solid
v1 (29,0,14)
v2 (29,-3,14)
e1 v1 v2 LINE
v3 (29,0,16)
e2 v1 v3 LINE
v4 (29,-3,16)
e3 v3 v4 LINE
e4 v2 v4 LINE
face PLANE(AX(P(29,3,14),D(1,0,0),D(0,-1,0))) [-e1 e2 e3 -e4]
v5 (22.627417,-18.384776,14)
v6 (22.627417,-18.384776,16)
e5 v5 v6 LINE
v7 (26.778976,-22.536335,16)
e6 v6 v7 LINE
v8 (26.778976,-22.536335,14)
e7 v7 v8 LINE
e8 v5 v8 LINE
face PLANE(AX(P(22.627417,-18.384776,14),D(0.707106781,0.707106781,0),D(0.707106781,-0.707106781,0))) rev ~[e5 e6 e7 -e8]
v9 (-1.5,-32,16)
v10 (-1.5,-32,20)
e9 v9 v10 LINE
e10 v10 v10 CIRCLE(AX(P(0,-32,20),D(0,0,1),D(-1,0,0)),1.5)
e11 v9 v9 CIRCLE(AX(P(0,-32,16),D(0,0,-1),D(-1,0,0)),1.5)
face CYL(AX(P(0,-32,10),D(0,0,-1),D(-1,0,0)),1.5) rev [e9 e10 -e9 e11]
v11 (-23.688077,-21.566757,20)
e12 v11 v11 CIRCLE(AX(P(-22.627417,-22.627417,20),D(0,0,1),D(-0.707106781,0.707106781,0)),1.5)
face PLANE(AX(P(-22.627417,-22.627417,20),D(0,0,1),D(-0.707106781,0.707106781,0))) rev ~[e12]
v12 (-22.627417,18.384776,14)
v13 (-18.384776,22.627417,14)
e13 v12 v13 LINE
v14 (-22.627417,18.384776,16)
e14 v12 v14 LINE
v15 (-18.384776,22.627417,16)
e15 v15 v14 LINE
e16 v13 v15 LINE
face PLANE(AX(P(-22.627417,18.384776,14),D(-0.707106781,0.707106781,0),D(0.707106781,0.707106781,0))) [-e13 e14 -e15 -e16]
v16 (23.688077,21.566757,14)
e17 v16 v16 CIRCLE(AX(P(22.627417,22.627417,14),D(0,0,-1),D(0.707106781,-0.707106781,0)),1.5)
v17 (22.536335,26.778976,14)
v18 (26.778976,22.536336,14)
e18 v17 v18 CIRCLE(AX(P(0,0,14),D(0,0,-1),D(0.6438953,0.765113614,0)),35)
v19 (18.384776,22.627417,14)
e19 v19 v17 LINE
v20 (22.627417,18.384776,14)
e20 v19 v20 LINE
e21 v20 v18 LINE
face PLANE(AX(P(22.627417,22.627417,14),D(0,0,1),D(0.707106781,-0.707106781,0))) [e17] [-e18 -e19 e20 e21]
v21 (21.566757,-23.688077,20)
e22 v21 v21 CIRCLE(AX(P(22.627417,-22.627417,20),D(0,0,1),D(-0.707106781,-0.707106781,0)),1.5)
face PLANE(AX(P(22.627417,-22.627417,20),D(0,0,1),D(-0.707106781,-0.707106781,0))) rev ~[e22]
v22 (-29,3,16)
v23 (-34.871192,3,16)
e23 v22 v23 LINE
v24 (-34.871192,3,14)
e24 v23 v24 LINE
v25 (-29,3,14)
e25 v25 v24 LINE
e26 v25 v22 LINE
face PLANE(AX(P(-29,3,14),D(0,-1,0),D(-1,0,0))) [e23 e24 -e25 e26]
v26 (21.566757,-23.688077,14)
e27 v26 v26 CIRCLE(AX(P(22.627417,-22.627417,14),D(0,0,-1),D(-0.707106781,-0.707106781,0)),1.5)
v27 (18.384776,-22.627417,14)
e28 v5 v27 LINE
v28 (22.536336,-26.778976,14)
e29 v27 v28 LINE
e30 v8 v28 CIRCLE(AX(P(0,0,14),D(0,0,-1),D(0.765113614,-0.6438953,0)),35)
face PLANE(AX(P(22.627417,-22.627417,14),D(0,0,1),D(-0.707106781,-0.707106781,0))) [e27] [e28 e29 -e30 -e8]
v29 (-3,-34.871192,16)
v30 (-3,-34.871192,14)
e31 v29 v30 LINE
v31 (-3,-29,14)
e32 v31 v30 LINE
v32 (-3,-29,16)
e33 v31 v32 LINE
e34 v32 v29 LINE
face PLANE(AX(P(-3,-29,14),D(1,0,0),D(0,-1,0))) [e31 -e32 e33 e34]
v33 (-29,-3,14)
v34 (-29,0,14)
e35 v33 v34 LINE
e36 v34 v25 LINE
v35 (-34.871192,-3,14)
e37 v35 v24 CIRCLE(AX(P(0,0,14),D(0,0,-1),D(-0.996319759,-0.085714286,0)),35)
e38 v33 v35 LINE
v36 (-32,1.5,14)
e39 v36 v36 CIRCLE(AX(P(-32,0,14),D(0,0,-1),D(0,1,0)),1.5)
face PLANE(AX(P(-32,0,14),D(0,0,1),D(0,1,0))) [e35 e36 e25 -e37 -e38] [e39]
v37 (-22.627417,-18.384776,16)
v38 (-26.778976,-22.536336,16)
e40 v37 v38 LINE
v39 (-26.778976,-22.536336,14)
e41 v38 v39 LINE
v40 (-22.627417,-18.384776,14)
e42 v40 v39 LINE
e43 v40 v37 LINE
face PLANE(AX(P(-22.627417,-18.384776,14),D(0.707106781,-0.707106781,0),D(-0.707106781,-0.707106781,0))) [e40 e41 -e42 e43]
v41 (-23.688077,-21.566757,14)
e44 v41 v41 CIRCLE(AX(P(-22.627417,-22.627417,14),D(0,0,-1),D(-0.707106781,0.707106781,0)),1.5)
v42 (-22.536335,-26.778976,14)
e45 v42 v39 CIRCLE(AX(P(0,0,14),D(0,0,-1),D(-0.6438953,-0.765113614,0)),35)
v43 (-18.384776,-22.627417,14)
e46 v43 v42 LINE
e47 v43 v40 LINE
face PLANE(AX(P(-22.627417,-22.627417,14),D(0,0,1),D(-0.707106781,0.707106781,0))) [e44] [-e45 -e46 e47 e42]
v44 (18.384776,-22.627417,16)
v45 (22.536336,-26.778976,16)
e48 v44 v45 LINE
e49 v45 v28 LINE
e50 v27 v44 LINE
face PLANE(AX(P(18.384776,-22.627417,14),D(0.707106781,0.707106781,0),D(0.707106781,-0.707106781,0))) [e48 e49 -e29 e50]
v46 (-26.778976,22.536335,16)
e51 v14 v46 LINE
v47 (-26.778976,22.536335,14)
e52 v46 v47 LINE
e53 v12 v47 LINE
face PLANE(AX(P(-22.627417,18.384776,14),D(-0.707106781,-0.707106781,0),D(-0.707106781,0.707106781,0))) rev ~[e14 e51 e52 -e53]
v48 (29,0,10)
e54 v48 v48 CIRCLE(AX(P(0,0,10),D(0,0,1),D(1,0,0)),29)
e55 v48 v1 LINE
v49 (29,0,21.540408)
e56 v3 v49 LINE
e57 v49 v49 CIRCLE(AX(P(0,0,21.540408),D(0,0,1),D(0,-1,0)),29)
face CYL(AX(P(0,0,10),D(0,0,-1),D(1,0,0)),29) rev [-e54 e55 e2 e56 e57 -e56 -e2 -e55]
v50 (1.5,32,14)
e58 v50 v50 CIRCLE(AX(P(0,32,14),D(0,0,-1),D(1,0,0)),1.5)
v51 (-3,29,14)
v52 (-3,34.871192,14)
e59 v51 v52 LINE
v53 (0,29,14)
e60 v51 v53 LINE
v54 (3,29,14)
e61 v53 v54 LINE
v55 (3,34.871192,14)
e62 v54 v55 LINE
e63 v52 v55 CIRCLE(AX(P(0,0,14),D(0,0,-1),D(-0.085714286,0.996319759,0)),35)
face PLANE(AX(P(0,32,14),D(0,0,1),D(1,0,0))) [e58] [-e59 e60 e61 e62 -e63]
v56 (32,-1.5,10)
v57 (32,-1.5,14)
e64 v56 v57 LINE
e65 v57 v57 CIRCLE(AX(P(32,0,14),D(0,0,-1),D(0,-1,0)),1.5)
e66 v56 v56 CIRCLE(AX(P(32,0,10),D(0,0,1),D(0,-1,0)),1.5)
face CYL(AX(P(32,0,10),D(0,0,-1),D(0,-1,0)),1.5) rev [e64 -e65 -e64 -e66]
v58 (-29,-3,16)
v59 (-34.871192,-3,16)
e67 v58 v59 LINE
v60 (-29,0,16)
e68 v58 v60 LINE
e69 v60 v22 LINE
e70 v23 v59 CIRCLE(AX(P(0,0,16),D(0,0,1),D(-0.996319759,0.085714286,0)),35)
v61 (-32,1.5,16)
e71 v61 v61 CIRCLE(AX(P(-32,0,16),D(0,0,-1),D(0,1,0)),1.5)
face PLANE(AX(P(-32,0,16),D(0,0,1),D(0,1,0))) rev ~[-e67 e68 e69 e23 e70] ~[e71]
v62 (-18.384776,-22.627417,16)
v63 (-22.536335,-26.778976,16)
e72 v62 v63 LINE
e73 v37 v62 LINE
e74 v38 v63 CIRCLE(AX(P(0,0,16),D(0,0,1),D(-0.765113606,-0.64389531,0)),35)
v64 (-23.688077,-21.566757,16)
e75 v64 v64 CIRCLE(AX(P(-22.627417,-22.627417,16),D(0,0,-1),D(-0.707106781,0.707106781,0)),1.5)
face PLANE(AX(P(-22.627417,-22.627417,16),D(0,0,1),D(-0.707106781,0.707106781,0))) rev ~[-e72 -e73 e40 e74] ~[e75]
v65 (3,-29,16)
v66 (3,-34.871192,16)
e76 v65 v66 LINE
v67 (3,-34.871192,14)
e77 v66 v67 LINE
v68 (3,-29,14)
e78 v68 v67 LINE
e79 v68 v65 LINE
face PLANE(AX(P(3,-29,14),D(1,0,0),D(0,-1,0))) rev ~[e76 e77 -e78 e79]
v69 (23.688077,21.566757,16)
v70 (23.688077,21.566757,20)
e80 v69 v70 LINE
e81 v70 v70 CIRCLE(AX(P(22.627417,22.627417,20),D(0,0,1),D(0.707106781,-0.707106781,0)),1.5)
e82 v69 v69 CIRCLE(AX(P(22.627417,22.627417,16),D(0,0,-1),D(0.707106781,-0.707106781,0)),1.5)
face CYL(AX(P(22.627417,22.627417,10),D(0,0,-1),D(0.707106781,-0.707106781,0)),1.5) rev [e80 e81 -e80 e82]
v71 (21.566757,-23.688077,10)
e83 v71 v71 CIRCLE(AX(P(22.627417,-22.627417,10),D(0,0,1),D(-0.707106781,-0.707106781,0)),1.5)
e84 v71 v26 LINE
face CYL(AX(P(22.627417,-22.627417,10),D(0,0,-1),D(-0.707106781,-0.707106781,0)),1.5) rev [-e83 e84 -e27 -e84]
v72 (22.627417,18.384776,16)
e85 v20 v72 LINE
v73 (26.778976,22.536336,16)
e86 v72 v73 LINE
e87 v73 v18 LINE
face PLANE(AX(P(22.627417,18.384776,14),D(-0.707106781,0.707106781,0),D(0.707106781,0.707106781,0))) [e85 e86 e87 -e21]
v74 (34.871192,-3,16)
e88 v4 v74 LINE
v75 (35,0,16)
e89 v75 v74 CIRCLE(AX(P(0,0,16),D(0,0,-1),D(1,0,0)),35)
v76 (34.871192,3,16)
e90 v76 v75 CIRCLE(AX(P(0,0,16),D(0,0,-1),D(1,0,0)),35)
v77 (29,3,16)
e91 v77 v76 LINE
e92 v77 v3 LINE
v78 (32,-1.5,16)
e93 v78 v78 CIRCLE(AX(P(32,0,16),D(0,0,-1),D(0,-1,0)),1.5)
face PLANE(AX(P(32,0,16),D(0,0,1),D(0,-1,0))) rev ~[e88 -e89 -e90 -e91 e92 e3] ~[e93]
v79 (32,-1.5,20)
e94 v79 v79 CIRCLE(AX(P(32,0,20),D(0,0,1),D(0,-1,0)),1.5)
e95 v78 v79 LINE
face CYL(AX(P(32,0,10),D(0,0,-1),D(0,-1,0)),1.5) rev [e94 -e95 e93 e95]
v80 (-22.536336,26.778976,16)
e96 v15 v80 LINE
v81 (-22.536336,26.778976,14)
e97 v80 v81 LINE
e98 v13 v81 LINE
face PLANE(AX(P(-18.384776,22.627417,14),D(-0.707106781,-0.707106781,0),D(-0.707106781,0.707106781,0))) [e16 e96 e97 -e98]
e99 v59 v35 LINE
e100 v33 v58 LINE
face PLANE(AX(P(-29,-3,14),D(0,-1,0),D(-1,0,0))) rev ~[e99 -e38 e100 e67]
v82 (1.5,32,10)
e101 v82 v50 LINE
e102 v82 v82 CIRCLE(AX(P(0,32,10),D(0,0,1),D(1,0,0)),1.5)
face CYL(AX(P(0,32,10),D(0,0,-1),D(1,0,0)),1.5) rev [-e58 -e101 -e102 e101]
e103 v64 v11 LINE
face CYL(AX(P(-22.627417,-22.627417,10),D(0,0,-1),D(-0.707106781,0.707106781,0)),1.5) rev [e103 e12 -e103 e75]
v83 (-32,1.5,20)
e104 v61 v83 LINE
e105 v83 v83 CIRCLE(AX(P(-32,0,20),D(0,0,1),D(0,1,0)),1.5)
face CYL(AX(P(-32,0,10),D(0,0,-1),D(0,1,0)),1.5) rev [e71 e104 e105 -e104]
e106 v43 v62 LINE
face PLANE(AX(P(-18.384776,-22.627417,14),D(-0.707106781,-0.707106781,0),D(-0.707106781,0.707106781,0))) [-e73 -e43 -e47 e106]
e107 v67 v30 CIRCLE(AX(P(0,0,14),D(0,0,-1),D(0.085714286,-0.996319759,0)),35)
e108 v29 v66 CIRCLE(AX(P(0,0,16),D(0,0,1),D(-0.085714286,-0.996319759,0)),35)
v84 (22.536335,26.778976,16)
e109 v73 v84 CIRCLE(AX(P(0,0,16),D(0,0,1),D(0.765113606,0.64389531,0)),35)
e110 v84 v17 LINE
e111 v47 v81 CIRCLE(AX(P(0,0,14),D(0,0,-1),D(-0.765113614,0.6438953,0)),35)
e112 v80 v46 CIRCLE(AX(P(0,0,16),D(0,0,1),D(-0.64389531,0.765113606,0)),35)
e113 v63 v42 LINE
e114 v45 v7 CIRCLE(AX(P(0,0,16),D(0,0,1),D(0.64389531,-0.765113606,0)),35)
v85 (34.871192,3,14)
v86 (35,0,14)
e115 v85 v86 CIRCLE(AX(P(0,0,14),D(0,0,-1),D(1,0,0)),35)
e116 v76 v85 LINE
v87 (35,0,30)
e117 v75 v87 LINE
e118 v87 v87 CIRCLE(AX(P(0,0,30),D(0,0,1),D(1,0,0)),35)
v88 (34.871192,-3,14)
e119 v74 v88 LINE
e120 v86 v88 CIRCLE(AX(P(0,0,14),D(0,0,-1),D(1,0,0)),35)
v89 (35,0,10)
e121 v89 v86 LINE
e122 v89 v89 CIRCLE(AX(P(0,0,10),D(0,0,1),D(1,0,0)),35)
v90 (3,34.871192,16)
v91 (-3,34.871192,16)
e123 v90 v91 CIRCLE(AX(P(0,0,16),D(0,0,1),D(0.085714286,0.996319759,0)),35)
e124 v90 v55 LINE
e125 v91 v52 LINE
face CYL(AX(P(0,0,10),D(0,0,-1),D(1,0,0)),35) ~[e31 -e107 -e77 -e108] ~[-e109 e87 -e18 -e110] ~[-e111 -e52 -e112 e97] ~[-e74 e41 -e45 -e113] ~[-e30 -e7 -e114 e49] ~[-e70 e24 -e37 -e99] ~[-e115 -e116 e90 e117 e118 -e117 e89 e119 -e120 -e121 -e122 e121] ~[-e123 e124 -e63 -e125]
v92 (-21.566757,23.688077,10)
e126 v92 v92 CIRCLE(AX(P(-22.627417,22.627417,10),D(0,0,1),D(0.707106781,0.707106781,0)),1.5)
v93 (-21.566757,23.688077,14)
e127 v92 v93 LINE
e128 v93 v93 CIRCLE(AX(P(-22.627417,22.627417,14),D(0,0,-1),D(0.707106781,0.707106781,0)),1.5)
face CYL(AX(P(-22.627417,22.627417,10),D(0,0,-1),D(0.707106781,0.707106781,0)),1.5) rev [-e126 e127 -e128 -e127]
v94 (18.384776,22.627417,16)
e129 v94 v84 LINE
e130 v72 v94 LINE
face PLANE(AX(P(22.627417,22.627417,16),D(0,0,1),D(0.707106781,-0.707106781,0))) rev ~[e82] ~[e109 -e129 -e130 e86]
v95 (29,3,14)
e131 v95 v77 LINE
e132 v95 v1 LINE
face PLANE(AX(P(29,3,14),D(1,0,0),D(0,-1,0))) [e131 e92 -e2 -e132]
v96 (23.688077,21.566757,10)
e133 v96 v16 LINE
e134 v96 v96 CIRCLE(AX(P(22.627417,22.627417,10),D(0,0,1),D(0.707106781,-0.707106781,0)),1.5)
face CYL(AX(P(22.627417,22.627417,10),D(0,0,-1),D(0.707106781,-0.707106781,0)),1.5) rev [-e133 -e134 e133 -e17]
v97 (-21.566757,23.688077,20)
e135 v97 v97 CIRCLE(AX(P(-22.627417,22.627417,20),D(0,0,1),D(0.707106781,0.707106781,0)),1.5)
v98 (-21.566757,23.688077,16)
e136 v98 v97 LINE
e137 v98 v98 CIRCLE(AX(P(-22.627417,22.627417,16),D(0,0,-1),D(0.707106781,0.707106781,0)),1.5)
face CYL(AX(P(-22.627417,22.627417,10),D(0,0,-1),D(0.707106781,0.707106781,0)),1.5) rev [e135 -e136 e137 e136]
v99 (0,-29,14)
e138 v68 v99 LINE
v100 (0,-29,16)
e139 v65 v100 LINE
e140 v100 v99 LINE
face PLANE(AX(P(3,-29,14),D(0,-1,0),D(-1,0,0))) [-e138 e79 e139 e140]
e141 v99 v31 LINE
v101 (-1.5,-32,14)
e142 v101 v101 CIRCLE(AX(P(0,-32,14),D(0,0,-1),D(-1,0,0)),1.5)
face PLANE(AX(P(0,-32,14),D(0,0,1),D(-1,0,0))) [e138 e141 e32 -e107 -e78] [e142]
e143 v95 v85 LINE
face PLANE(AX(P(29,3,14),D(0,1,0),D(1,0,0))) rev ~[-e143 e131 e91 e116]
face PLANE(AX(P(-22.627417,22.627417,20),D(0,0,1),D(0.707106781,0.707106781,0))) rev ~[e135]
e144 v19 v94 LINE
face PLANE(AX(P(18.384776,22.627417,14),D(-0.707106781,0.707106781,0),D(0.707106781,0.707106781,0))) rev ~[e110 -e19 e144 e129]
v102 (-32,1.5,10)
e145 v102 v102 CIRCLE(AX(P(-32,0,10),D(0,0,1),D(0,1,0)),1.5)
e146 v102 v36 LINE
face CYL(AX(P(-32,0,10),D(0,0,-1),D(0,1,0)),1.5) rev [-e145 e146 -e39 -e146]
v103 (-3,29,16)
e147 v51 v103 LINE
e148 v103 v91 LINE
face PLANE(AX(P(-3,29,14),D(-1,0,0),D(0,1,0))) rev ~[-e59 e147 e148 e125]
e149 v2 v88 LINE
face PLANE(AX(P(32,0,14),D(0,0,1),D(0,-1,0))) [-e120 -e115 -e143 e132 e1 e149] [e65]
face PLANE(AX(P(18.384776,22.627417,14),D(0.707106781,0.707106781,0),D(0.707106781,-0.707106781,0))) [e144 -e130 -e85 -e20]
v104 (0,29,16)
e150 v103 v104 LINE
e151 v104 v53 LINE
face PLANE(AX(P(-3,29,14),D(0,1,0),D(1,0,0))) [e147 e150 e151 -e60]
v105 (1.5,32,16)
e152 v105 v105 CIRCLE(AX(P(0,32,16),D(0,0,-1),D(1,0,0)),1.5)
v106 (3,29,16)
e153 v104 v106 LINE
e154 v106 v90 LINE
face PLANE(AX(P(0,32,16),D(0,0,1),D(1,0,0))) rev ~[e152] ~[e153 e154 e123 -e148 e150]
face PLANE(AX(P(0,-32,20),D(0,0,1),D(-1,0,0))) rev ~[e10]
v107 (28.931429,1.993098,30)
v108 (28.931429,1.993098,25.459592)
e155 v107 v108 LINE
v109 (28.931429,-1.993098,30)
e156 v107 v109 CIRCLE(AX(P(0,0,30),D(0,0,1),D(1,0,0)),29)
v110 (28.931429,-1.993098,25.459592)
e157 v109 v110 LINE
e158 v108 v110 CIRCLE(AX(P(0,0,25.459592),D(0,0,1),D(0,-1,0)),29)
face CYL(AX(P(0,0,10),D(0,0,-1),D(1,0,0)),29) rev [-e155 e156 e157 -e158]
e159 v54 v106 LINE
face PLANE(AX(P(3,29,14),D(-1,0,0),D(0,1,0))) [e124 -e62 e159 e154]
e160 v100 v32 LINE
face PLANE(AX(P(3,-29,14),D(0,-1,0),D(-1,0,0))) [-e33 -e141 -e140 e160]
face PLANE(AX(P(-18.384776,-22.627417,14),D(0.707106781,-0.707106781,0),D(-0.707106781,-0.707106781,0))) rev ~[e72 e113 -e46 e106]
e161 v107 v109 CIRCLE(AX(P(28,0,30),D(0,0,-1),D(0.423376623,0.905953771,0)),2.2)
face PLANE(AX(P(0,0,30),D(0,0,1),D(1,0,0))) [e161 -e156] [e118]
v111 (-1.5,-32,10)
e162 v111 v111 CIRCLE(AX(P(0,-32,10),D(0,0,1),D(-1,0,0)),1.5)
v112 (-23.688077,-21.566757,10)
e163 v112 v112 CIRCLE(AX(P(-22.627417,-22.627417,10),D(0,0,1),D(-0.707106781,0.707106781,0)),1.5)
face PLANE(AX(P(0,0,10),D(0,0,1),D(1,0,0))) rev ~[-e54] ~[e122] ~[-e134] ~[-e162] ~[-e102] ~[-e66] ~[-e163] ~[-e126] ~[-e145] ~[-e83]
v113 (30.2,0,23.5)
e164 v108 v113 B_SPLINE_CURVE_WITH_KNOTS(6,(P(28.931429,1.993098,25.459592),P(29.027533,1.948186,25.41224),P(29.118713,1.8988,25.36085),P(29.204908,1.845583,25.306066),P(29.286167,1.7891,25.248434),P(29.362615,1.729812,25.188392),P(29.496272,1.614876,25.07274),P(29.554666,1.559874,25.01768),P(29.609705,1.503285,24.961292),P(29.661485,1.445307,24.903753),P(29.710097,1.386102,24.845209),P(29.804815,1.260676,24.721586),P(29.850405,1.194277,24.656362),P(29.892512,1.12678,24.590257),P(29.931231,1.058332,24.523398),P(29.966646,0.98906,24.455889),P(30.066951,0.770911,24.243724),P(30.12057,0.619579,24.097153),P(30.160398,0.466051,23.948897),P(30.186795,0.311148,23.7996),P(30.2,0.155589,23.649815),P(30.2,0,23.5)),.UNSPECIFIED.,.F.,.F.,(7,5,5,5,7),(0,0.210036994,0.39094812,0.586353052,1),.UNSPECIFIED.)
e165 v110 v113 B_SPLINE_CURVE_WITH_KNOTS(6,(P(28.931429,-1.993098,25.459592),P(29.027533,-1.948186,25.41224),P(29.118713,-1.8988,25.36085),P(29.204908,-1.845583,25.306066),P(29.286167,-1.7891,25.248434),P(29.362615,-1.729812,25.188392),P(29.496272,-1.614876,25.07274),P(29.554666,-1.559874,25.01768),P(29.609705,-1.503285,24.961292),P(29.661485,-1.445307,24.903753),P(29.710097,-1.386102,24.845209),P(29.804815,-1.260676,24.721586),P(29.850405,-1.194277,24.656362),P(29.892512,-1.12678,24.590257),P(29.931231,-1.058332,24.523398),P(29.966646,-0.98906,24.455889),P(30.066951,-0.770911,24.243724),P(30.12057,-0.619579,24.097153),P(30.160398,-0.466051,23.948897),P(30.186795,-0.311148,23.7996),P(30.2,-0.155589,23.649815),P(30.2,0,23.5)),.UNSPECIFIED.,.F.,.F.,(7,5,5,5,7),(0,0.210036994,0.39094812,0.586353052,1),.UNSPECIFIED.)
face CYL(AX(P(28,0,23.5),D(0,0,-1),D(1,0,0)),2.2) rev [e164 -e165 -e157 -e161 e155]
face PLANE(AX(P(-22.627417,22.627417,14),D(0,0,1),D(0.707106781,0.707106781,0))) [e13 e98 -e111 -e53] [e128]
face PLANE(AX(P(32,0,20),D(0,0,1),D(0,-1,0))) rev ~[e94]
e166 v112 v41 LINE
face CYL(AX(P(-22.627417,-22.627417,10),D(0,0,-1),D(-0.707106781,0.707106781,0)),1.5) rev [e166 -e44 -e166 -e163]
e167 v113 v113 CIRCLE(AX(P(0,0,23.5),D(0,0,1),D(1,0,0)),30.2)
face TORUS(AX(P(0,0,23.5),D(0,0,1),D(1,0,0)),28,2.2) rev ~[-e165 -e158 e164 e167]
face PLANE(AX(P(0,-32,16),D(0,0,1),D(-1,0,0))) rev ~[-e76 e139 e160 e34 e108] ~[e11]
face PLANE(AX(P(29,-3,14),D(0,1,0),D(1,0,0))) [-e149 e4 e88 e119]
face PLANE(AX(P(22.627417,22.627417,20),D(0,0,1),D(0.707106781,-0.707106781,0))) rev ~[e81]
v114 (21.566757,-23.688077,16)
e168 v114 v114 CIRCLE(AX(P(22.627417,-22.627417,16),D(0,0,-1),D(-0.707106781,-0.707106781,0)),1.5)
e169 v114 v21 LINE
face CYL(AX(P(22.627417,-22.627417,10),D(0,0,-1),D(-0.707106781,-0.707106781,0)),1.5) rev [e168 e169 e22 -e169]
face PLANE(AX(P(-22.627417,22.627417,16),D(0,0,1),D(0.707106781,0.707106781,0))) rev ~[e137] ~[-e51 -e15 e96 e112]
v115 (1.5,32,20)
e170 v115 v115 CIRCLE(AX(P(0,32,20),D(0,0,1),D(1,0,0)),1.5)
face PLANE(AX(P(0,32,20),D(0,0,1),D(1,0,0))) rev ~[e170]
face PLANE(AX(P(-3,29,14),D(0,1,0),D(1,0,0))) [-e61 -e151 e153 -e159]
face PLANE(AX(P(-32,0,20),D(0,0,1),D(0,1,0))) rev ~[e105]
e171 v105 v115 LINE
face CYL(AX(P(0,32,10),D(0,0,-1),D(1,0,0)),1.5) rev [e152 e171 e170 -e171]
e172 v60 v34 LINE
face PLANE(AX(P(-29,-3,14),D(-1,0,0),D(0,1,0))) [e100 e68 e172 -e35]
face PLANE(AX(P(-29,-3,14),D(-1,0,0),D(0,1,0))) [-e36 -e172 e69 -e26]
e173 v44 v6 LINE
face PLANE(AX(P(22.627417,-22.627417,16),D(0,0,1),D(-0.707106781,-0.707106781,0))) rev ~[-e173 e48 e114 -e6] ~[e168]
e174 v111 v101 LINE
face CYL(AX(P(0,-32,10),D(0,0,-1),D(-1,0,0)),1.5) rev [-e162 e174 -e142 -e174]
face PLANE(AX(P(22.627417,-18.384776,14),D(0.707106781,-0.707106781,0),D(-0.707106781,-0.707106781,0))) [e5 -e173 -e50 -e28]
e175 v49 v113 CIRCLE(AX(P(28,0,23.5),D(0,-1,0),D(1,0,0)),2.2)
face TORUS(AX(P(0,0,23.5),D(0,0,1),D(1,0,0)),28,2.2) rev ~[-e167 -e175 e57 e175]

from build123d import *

# Parameters (mm, degrees)
BOX060_W                    = 6
BOX060_H                    = 6
BOX060_DEPTH                = 2
BOX061_W                    = 6
BOX061_H                    = 6
BOX061_DEPTH                = 2
BOX061_PLACEMENT_ANGLE      = 135
BOX062_W                    = 6
BOX062_H                    = 6
BOX062_DEPTH                = 2
BOX063_W                    = 6
BOX063_H                    = 6
BOX063_DEPTH                = 2
BOX063_PLACEMENT_ANGLE      = 225
BOX064_W                    = 6
BOX064_H                    = 6
BOX064_DEPTH                = 2
BOX065_W                    = 6
BOX065_H                    = 6
BOX065_DEPTH                = 2
BOX065_PLACEMENT_ANGLE      = 45
BOX058_W                    = 6
BOX058_H                    = 6
BOX058_DEPTH                = 2
BOX059_W                    = 6
BOX059_H                    = 6
BOX059_DEPTH                = 2
BOX059_PLACEMENT_ANGLE      = 45
CYLINDER149_R               = 1.5
CYLINDER149_DEPTH           = 10
CYLINDER150_R               = 1.5
CYLINDER150_DEPTH           = 10
CYLINDER150_PLACEMENT_ANGLE = 135
CYLINDER151_R               = 1.5
CYLINDER151_DEPTH           = 10
CYLINDER152_R               = 1.5
CYLINDER152_DEPTH           = 10
CYLINDER152_PLACEMENT_ANGLE = 225
CYLINDER153_R               = 1.5
CYLINDER153_DEPTH           = 10
CYLINDER154_R               = 1.5
CYLINDER154_DEPTH           = 10
CYLINDER154_PLACEMENT_ANGLE = 45
CYLINDER147_R               = 1.5
CYLINDER147_DEPTH           = 10
CYLINDER148_R               = 1.5
CYLINDER148_DEPTH           = 10
CYLINDER148_PLACEMENT_ANGLE = 45
CYLINDER146_R               = 2.2
CYLINDER146_DEPTH           = 10
TORUS002_R                  = 2.2
TUBE009_R                   = 35
TUBE009_R_2                 = 29
TUBE009_DEPTH               = 20


with BuildPart() as krychle060:
    # Box060 → Box060 (new body)
    with BuildSketch(Plane(origin=(-29, -3, 14), x_dir=(0, 1, 0), z_dir=(0, 0, 1))):
        with Locations((3, 3)):
            Rectangle(BOX060_W, BOX060_H)
    extrude(amount=BOX060_DEPTH)


with BuildPart() as krychle061:
    # Box061 → Box061 (new body)
    with BuildSketch(Plane.XY):
        with Locations((3, 3)):
            Rectangle(BOX061_W, BOX061_H)
    extrude(amount=BOX061_DEPTH)


with BuildPart() as krychle061_1:
    # Box061 placement: moved
    add(krychle061.part.moved(Location((-18.384776, -22.627417, 14))).rotate(Axis((-18.384776, -22.627417, 14), (0, 0, 1)), BOX061_PLACEMENT_ANGLE))


with BuildPart() as krychle062:
    # Box062 → Box062 (new body)
    with BuildSketch(Plane(origin=(3, -29, 14), x_dir=(-1, 0, 0), z_dir=(0, 0, 1))):
        with Locations((3, 3)):
            Rectangle(BOX062_W, BOX062_H)
    extrude(amount=BOX062_DEPTH)


with BuildPart() as krychle063:
    # Box063 → Box063 (new body)
    with BuildSketch(Plane.XY):
        with Locations((3, 3)):
            Rectangle(BOX063_W, BOX063_H)
    extrude(amount=BOX063_DEPTH)


with BuildPart() as krychle063_1:
    # Box063 placement: moved
    add(krychle063.part.moved(Location((22.627417, -18.384776, 14))).rotate(Axis((22.627417, -18.384776, 14), (0, 0, 1)), BOX063_PLACEMENT_ANGLE))


with BuildPart() as krychle064:
    # Box064 → Box064 (new body)
    with BuildSketch(Plane(origin=(29, 3, 14), x_dir=(0, -1, 0), z_dir=(0, 0, 1))):
        with Locations((3, 3)):
            Rectangle(BOX064_W, BOX064_H)
    extrude(amount=BOX064_DEPTH)


with BuildPart() as krychle065:
    # Box065 → Box065 (new body)
    with BuildSketch(Plane.XY):
        with Locations((3, 3)):
            Rectangle(BOX065_W, BOX065_H)
    extrude(amount=BOX065_DEPTH)


with BuildPart() as krychle065_1:
    # Box065 placement: moved
    add(krychle065.part.moved(Location((18.384776, 22.627417, 14))).rotate(Axis((18.384776, 22.627417, 14), (0, 0, -1)), BOX065_PLACEMENT_ANGLE))


with BuildPart() as krychle058:
    # Box058 → Box058 (new body)
    with BuildSketch(Plane(origin=(-3, 29, 14), x_dir=(1, 0, 0), z_dir=(0, 0, 1))):
        with Locations((3, 3)):
            Rectangle(BOX058_W, BOX058_H)
    extrude(amount=BOX058_DEPTH)


with BuildPart() as compound048:
    # Box059 → Box059 (new body)
    with BuildSketch(Plane.XY):
        with Locations((3, 3)):
            Rectangle(BOX059_W, BOX059_H)
    extrude(amount=BOX059_DEPTH)


with BuildPart() as compound048_1:
    # Box059 placement: moved
    add(compound048.part.moved(Location((-22.627417, 18.384776, 14))).rotate(Axis((-22.627417, 18.384776, 14), (0, 0, 1)), BOX059_PLACEMENT_ANGLE))

    # Compound048: union Krychle060, Krychle061, Krychle062, Krychle063, Krychle064, Krychle065, Krychle058
    add(krychle060.part)
    add(krychle061_1.part)
    add(krychle062.part)
    add(krychle063_1.part)
    add(krychle064.part)
    add(krychle065_1.part)
    add(krychle058.part)


with BuildPart() as v_lec149:
    # Cylinder149 → Cylinder149 (new body)
    with BuildSketch(Plane(origin=(-32, 0, 10), x_dir=(0, 1, 0), z_dir=(0, 0, 1))):
        Circle(CYLINDER149_R)
    extrude(amount=CYLINDER149_DEPTH)


with BuildPart() as v_lec150:
    # Cylinder150 → Cylinder150 (new body)
    with BuildSketch(Plane.XY):
        Circle(CYLINDER150_R)
    extrude(amount=CYLINDER150_DEPTH)


with BuildPart() as v_lec150_1:
    # Cylinder150 placement: moved
    add(v_lec150.part.moved(Location((-22.627417, -22.627417, 10))).rotate(Axis((-22.627417, -22.627417, 10), (0, 0, 1)), CYLINDER150_PLACEMENT_ANGLE))


with BuildPart() as v_lec151:
    # Cylinder151 → Cylinder151 (new body)
    with BuildSketch(Plane(origin=(0, -32, 10), x_dir=(-1, 0, 0), z_dir=(0, 0, 1))):
        Circle(CYLINDER151_R)
    extrude(amount=CYLINDER151_DEPTH)


with BuildPart() as v_lec152:
    # Cylinder152 → Cylinder152 (new body)
    with BuildSketch(Plane.XY):
        Circle(CYLINDER152_R)
    extrude(amount=CYLINDER152_DEPTH)


with BuildPart() as v_lec152_1:
    # Cylinder152 placement: moved
    add(v_lec152.part.moved(Location((22.627417, -22.627417, 10))).rotate(Axis((22.627417, -22.627417, 10), (0, 0, 1)), CYLINDER152_PLACEMENT_ANGLE))


with BuildPart() as v_lec153:
    # Cylinder153 → Cylinder153 (new body)
    with BuildSketch(Plane(origin=(32, 0, 10), x_dir=(0, -1, 0), z_dir=(0, 0, 1))):
        Circle(CYLINDER153_R)
    extrude(amount=CYLINDER153_DEPTH)


with BuildPart() as v_lec154:
    # Cylinder154 → Cylinder154 (new body)
    with BuildSketch(Plane.XY):
        Circle(CYLINDER154_R)
    extrude(amount=CYLINDER154_DEPTH)


with BuildPart() as v_lec154_1:
    # Cylinder154 placement: moved
    add(v_lec154.part.moved(Location((22.627417, 22.627417, 10))).rotate(Axis((22.627417, 22.627417, 10), (0, 0, -1)), CYLINDER154_PLACEMENT_ANGLE))


with BuildPart() as v_lec147:
    # Cylinder147 → Cylinder147 (new body)
    with BuildSketch(Plane(origin=(0, 32, 10), x_dir=(1, 0, 0), z_dir=(0, 0, 1))):
        Circle(CYLINDER147_R)
    extrude(amount=CYLINDER147_DEPTH)


with BuildPart() as compound047:
    # Cylinder148 → Cylinder148 (new body)
    with BuildSketch(Plane.XY):
        Circle(CYLINDER148_R)
    extrude(amount=CYLINDER148_DEPTH)


with BuildPart() as compound047_1:
    # Cylinder148 placement: moved
    add(compound047.part.moved(Location((-22.627417, 22.627417, 10))).rotate(Axis((-22.627417, 22.627417, 10), (0, 0, 1)), CYLINDER148_PLACEMENT_ANGLE))

    # Compound047: union Válec149, Válec150, Válec151, Válec152, Válec153, Válec154, Válec147
    add(v_lec149.part)
    add(v_lec150_1.part)
    add(v_lec151.part)
    add(v_lec152_1.part)
    add(v_lec153.part)
    add(v_lec154_1.part)
    add(v_lec147.part)


with BuildPart() as v_lec146:
    # Cylinder146 → Cylinder146 (new body)
    with BuildSketch(Plane(origin=(28, 0, 23.5), x_dir=(1, 0, 0), z_dir=(0, 0, 1))):
        Circle(CYLINDER146_R)
    extrude(amount=CYLINDER146_DEPTH)


with BuildPart() as anuloid002:
    # Torus002 → Torus002 (revolve)
    with BuildSketch(Plane(origin=(0, 0, 23.5), x_dir=(1, 0, 0), z_dir=(0, -1, 0))):
        with Locations((28, 0)):
            Circle(TORUS002_R)
    revolve(axis=Axis((0, 0, 23.5), (0, 0, 1)))


with BuildPart() as gearovina_midi_loziskovina1:
    # Tube009 → Tube009 (new body)
    with BuildSketch(Plane.XY.offset(10)):
        Circle(TUBE009_R)
        Circle(TUBE009_R_2, mode=Mode.SUBTRACT)
    extrude(amount=TUBE009_DEPTH)

    # Cut052: cut Anuloid002
    add(anuloid002.part, mode=Mode.SUBTRACT)

    # Cut053: cut Válec146
    add(v_lec146.part, mode=Mode.SUBTRACT)

    # Cut054: cut Compound047
    add(compound047_1.part, mode=Mode.SUBTRACT)

    # Cut055: cut Compound048
    add(compound048_1.part, mode=Mode.SUBTRACT)


solid = gearovina_midi_loziskovina1.part
